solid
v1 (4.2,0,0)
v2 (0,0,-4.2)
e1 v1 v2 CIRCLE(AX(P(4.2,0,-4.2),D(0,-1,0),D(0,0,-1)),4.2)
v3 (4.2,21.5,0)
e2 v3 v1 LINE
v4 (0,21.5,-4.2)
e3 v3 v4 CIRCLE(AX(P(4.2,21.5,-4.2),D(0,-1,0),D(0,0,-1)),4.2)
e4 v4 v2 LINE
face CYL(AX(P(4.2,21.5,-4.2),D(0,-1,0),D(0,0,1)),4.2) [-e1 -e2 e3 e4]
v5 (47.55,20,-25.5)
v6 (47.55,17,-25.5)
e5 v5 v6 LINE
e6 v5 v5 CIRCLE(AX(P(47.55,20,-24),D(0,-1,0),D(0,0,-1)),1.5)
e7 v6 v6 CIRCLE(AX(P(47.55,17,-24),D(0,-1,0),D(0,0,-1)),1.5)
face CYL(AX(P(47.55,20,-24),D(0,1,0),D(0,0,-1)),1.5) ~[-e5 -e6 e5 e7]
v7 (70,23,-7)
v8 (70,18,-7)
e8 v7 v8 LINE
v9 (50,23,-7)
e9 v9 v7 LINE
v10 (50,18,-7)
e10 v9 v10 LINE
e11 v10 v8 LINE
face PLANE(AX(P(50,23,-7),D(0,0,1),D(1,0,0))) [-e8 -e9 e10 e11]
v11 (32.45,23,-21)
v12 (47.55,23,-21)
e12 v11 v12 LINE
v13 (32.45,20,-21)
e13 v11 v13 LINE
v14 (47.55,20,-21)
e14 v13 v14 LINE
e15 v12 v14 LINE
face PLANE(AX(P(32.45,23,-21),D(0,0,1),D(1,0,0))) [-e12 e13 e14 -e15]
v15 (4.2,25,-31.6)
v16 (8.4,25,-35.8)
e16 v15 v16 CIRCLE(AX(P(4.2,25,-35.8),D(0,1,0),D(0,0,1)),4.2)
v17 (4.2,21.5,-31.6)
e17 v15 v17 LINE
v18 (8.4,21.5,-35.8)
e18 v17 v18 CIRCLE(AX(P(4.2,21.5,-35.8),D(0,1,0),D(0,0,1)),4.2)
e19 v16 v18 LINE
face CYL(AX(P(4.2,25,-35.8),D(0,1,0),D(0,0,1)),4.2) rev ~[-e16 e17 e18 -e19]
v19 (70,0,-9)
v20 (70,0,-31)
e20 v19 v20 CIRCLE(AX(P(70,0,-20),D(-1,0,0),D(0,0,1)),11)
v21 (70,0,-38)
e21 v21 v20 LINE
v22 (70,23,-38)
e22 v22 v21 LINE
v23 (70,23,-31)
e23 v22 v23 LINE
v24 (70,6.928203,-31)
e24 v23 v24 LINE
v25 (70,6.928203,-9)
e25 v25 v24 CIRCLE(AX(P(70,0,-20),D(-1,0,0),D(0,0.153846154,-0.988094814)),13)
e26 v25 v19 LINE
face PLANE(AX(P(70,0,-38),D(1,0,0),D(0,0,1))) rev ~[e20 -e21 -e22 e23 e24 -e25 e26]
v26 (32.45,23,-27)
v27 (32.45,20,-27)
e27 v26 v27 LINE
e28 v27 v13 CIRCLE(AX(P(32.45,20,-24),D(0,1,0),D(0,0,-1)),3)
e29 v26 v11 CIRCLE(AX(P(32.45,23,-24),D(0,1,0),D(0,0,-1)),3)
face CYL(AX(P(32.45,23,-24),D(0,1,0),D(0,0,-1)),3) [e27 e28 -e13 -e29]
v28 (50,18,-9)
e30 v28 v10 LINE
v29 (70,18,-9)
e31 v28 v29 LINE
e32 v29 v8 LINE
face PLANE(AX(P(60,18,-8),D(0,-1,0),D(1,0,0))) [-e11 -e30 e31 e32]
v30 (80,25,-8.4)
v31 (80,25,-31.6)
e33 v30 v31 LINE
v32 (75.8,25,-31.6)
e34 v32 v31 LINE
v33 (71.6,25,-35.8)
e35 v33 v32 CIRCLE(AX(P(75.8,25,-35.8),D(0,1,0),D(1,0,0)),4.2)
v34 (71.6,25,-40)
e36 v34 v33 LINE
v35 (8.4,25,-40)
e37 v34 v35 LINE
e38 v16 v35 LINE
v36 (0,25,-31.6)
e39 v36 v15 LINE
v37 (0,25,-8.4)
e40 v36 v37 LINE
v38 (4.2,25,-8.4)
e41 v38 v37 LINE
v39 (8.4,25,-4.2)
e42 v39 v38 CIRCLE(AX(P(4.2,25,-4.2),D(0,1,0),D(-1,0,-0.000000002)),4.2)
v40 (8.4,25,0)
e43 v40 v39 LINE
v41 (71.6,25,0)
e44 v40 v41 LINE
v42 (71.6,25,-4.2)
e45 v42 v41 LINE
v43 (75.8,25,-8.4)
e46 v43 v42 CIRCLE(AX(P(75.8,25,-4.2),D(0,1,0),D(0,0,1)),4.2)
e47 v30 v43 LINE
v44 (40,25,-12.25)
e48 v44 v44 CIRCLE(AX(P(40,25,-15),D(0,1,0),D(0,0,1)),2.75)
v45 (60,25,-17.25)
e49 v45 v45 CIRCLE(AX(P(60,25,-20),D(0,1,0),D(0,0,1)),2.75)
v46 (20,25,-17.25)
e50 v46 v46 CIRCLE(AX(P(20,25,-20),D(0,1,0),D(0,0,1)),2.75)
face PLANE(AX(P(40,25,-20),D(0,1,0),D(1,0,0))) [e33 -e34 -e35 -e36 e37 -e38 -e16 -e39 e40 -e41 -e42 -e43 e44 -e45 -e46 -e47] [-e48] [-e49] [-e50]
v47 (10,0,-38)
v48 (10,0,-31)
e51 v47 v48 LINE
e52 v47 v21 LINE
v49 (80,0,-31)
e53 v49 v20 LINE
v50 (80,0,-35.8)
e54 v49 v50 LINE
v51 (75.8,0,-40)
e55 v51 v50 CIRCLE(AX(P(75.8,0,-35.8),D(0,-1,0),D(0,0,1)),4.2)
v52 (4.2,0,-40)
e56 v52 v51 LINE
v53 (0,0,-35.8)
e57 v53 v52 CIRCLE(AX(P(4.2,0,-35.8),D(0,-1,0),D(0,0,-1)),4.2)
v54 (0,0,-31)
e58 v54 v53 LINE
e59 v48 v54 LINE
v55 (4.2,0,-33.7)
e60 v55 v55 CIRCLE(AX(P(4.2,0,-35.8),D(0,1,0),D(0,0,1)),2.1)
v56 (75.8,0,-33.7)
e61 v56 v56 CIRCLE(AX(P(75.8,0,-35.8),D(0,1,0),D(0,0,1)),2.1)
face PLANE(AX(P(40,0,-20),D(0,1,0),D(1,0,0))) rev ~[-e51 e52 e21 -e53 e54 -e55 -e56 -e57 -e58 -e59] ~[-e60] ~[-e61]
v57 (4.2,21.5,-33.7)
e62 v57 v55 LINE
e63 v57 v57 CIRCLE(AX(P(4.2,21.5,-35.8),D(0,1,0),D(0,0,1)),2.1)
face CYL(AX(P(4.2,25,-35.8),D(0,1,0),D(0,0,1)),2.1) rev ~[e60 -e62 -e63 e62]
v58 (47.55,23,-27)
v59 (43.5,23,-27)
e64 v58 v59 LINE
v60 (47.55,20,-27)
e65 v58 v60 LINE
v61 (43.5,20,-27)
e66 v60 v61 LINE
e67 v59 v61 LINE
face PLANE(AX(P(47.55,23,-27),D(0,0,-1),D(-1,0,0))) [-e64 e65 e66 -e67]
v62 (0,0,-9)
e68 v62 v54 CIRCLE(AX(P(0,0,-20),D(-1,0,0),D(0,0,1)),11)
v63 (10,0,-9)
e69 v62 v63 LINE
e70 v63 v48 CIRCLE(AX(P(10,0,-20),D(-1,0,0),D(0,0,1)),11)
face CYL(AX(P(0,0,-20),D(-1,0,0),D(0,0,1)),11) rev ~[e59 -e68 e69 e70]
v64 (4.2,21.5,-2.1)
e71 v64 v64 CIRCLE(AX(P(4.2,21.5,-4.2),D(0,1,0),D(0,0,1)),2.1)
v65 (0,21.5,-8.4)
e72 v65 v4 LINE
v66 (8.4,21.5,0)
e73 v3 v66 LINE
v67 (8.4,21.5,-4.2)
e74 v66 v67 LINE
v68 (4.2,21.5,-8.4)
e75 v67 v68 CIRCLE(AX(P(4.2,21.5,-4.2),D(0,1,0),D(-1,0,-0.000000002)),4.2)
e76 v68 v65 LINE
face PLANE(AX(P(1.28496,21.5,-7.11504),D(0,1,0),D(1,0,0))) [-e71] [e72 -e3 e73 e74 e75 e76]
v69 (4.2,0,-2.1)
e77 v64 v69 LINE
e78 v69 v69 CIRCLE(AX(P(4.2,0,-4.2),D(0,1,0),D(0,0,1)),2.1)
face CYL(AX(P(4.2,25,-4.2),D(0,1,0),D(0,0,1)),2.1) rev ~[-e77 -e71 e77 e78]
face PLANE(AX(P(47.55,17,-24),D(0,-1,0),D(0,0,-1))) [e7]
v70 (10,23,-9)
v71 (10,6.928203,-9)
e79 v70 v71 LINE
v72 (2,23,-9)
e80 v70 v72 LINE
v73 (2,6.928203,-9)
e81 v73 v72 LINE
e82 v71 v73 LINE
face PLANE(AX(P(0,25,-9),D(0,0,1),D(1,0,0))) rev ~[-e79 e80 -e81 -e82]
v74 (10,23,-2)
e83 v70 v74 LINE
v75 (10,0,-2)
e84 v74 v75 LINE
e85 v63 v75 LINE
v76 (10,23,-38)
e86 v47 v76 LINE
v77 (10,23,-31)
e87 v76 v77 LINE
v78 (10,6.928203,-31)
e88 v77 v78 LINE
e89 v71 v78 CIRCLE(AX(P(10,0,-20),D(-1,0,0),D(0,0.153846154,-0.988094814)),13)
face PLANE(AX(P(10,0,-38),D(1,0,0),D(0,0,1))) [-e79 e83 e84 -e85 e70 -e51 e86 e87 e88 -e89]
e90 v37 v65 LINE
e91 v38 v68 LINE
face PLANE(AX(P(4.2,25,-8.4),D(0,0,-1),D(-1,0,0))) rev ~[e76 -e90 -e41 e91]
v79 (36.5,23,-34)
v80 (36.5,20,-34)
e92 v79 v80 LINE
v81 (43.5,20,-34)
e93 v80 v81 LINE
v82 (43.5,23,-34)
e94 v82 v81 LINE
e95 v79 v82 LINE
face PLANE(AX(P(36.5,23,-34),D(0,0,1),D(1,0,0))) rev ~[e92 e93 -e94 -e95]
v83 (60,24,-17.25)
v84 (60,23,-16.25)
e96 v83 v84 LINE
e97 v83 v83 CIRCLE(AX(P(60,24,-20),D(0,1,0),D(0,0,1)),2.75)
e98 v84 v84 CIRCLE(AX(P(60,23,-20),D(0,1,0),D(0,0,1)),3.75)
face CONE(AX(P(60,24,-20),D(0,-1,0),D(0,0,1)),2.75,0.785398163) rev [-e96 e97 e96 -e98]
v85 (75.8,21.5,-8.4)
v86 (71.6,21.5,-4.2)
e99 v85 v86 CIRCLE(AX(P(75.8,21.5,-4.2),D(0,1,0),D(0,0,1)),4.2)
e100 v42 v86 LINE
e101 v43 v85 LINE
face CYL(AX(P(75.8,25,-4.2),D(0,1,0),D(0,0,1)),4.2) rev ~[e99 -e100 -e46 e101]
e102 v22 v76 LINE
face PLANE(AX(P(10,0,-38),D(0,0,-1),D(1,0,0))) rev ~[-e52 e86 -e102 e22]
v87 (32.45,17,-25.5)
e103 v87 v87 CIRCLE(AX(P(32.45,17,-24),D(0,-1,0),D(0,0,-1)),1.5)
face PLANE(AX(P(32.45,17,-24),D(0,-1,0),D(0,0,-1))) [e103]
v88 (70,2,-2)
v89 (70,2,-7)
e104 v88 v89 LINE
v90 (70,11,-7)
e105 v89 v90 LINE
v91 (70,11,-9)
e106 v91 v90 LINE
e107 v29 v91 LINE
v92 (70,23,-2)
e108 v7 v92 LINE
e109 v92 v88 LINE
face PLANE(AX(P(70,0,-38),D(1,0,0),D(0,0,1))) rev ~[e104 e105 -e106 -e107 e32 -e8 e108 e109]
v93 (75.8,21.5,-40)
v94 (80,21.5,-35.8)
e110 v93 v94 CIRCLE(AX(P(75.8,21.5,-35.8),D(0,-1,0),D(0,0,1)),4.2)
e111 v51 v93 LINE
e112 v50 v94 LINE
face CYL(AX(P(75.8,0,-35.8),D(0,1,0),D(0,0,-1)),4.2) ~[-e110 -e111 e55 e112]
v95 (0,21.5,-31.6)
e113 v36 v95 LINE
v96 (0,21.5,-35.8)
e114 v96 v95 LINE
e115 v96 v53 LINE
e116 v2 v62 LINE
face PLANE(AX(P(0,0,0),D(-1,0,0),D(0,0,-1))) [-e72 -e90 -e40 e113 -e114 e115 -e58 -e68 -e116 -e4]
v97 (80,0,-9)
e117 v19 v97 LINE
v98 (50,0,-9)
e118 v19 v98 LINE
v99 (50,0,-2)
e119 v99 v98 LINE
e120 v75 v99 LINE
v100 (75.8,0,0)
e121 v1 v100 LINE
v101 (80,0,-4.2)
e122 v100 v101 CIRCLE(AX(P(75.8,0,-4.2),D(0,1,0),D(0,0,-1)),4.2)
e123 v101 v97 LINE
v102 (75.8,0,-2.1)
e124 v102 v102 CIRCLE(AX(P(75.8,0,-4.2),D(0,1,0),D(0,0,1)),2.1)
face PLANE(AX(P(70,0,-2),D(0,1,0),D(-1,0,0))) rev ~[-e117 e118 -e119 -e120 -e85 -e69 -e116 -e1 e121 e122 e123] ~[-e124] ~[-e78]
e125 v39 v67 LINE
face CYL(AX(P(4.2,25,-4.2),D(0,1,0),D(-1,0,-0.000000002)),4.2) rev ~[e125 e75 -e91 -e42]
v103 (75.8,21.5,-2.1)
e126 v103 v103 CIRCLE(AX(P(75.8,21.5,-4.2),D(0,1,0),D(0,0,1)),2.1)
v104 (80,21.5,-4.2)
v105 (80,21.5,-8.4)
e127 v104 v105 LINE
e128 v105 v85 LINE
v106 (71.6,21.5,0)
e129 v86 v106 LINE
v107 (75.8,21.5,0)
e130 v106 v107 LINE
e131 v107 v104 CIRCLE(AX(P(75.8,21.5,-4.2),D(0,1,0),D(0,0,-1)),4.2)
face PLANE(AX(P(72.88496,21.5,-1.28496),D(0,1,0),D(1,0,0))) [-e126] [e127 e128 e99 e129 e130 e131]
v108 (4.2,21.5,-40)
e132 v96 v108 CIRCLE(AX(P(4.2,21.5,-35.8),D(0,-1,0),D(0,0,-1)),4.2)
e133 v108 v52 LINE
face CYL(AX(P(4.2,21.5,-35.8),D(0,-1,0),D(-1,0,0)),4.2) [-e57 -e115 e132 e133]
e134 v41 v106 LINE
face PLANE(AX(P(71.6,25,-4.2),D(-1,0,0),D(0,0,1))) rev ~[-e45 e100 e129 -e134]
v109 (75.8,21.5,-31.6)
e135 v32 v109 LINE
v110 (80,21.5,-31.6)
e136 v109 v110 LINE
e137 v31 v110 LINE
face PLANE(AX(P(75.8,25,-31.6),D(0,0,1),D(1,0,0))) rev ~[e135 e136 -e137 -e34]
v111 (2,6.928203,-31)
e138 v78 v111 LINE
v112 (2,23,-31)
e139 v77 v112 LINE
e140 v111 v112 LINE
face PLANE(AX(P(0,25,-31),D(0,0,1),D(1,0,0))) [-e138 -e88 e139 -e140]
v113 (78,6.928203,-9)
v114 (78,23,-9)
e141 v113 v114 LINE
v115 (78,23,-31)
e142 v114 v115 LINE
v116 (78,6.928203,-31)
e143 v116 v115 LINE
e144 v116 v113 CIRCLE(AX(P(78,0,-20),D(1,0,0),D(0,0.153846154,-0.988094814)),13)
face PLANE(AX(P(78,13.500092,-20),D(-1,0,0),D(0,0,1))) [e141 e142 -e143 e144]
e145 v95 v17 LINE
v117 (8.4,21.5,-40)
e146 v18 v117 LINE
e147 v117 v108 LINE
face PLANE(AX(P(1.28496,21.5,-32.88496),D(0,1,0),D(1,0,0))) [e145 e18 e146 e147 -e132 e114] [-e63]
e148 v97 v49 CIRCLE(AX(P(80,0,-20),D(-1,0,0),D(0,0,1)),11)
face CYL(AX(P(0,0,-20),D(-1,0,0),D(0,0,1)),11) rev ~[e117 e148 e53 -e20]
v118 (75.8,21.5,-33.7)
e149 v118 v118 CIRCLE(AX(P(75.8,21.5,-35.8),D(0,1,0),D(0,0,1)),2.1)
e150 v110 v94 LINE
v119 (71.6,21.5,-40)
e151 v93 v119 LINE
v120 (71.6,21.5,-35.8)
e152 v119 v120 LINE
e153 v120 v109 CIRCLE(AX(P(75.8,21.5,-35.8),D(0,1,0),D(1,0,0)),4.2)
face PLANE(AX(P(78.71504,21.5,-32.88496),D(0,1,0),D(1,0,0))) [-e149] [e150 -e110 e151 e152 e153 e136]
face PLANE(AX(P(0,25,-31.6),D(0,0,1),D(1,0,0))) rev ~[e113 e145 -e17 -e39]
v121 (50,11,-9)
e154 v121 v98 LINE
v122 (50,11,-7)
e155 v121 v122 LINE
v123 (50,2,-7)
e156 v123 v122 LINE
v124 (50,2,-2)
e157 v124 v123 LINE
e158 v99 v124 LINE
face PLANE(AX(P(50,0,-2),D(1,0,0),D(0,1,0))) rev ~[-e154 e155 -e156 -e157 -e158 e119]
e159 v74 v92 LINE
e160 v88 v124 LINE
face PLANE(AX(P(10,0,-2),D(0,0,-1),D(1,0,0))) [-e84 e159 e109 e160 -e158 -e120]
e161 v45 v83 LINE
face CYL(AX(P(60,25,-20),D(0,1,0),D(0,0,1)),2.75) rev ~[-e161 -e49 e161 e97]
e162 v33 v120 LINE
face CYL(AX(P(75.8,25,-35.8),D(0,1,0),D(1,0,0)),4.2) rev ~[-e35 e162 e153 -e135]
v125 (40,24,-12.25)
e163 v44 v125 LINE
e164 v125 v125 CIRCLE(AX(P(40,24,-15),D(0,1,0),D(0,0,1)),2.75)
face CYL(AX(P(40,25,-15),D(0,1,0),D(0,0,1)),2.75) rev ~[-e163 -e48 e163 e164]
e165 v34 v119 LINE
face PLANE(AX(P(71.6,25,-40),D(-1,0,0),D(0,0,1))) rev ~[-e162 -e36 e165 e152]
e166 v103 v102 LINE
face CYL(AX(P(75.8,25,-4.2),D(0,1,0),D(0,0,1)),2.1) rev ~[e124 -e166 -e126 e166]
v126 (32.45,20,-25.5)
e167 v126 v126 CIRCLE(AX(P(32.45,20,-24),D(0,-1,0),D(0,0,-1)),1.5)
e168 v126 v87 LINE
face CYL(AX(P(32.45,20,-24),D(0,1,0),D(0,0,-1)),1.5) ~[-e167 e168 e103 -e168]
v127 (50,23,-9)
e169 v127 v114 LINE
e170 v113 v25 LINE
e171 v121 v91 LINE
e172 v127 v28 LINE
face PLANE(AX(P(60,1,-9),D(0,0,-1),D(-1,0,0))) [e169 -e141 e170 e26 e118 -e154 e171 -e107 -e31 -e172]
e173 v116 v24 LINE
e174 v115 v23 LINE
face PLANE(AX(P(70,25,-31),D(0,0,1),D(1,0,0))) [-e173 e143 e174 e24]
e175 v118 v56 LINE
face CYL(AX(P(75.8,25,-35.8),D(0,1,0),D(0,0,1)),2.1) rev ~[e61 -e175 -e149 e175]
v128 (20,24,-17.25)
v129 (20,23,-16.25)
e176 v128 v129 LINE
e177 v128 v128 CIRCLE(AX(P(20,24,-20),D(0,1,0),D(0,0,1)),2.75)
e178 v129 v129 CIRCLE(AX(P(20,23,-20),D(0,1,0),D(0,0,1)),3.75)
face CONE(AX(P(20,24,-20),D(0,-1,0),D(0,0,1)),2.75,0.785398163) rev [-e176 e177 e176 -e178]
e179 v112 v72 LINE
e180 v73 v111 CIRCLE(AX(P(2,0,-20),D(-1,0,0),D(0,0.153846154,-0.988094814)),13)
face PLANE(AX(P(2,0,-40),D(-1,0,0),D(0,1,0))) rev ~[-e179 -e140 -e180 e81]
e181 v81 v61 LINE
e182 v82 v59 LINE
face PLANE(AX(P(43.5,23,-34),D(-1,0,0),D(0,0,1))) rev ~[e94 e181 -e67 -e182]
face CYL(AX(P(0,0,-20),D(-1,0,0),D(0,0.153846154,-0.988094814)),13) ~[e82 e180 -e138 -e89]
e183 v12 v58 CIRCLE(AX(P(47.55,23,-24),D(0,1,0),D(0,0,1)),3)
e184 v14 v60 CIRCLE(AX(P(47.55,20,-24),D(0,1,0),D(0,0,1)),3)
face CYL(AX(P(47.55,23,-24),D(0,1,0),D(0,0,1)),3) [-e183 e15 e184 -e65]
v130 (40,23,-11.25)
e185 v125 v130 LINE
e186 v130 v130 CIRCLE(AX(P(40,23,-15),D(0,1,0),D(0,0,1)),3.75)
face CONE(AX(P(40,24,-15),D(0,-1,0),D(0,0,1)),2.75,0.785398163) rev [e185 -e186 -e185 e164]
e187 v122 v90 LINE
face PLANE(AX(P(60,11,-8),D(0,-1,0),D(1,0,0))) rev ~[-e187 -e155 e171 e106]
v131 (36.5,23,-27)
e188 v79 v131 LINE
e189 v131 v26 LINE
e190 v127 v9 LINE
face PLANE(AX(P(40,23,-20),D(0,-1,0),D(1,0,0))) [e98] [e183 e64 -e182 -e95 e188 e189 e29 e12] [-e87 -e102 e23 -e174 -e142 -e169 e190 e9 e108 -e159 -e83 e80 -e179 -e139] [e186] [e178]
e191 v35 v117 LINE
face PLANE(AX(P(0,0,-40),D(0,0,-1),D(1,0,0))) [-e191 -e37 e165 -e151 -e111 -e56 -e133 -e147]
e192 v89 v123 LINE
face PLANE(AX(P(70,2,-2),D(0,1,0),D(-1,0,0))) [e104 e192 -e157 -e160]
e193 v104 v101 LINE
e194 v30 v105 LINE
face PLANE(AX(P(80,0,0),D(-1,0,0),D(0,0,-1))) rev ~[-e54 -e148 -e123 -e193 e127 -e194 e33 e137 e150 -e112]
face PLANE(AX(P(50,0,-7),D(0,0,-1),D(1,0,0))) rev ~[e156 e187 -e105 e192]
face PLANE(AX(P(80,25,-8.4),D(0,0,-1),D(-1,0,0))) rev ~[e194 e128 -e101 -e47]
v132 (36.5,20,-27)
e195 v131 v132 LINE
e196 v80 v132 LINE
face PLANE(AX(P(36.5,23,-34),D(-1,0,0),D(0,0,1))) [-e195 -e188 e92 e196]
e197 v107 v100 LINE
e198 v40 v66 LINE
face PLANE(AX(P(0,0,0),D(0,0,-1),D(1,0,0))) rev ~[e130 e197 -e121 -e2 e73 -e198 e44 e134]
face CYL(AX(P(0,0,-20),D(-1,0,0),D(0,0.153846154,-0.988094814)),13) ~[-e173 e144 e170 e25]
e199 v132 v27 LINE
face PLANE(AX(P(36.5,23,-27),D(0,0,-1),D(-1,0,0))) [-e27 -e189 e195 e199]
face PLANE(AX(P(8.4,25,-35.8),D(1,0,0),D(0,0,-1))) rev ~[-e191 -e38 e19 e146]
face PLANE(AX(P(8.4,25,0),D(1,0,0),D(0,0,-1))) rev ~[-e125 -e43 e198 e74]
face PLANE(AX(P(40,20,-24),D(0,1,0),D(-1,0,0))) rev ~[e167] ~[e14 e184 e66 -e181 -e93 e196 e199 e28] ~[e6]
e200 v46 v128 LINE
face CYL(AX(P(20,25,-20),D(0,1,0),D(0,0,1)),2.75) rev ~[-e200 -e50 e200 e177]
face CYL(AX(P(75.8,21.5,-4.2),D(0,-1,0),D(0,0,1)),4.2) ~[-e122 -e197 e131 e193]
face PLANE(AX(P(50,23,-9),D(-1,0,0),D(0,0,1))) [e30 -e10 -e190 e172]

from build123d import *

# Parameters (mm, degrees)
ESQUISSE1_W              = 80
ESQUISSE1_H              = 40
BOSS_EXTRU_1_DEPTH       = 25
ENL_V_MAT_EXTRU_4_DEPTH  = 78
ESQUISSE6_W              = 2
ESQUISSE6_H              = 25
BOSS_EXTRU_3_DEPTH       = 40
ESQUISSE7_R              = 11
ENL_V_MAT_EXTRU_5_DEPTH  = 93.870878105
ESQUISSE8_W              = 60
ESQUISSE8_H              = 36
ENL_V_MAT_EXTRU_6_DEPTH  = 23
ESQUISSE9_W              = 10
ESQUISSE9_H              = 9
BOSS_EXTRU_4_DEPTH       = 23
ESQUISSE10_R             = 2.1
ENL_V_MAT_EXTRU_8_DEPTH  = 93.870878105
ESQUISSE11_R             = 2.75
ENL_V_MAT_EXTRU_9_DEPTH  = 93.870878105
CHANFREIN1_SIZE          = 1
ESQUISSE12_R             = 4.2
ESQUISSE12_R_2           = 2.1
ENL_V_MAT_EXTRU_10_DEPTH = 3.5
CONG_1_R                 = 4.2
ESQUISSE13_W             = 7
ESQUISSE13_H             = 7
BOSS_EXTRU_5_DEPTH       = 3
ESQUISSE14_W             = 20
ESQUISSE14_H             = 2
BOSS_EXTRU_16_DEPTH      = 5
ESQUISSE15_W             = 20
ESQUISSE15_H             = 2
BOSS_EXTRU_17_DEPTH      = 7
ESQUISSE17_W             = 20
ESQUISSE17_H             = 2
BOSS_EXTRU_18_DEPTH      = 11
ESQUISSE18_R             = 1.5
BOSS_EXTRU_19_DEPTH      = 3


with BuildPart() as part:
    # Esquisse1 → Boss.-Extru.1 (new body)
    with BuildSketch(Plane(origin=(0, 0, 0), x_dir=(1, 0, 0), z_dir=(0, 1, 0))):
        with Locations((40, 20)):
            Rectangle(ESQUISSE1_W, ESQUISSE1_H)
    extrude(amount=BOSS_EXTRU_1_DEPTH)

    # Esquisse5 → Enlèv. mat.-Extru.4 (cut)
    with BuildSketch(Plane.ZY):
        with BuildLine():
            Line((-2, 23), (-38, 23))
            Line((-38, 23), (-38, 2))
            Line((-38, 2), (-32.845232579, 2))
            ThreePointArc((-32.845232579, 2), (-20, 13), (-7.154767421, 2))
            Line((-7.154767421, 2), (-2, 2))
            Line((-2, 2), (-2, 23))
        make_face()
    extrude(amount=-ENL_V_MAT_EXTRU_4_DEPTH, mode=Mode.SUBTRACT)

    # Esquisse6 → Boss.-Extru.3 (add)
    with BuildSketch(Plane(origin=(0, 0, -40), x_dir=(-1, 0, 0), z_dir=(0, 0, -1))):
        with Locations((-1, 12.5)):
            Rectangle(ESQUISSE6_W, ESQUISSE6_H)
    extrude(amount=-BOSS_EXTRU_3_DEPTH)

    # Esquisse7 → Enlèv. mat.-Extru.5 (cut, through all)
    with BuildSketch(Plane.ZY):
        with Locations((-20, 0)):
            Circle(ESQUISSE7_R)
    extrude(amount=-ENL_V_MAT_EXTRU_5_DEPTH, mode=Mode.SUBTRACT)

    # Esquisse8 → Enlèv. mat.-Extru.6 (cut)
    with BuildSketch(Plane.XZ):
        with Locations((40, -20)):
            Rectangle(ESQUISSE8_W, ESQUISSE8_H)
    extrude(amount=-ENL_V_MAT_EXTRU_6_DEPTH, mode=Mode.SUBTRACT)

    # Esquisse9 → Boss.-Extru.4 (add)
    with BuildSketch(Plane(origin=(0, 25, 0), x_dir=(1, 0, 0), z_dir=(0, 1, 0))):
        with Locations((75, 4.5)):
            Rectangle(ESQUISSE9_W, ESQUISSE9_H)
        with Locations((5, 4.5)):
            Rectangle(ESQUISSE9_W, ESQUISSE9_H)
        with Locations((5, 35.5)):
            Rectangle(ESQUISSE9_W, ESQUISSE9_H)
        with Locations((75, 35.5)):
            Rectangle(ESQUISSE9_W, ESQUISSE9_H)
    extrude(amount=-BOSS_EXTRU_4_DEPTH)

    # Esquisse10 → Enlèv. mat.-Extru.8 (cut, through all)
    with BuildSketch(Plane(origin=(0, 25, 0), x_dir=(1, 0, 0), z_dir=(0, 1, 0))):
        with Locations(Location((75.8, 35.8, 0), (0, 0, 270))):
            Circle(ESQUISSE10_R)
        with Locations(Location((75.8, 4.2, 0), (0, 0, 270))):
            Circle(ESQUISSE10_R)
        with Locations(Location((4.2, 4.2, 0), (0, 0, 270))):
            Circle(ESQUISSE10_R)
        with Locations(Location((4.2, 35.8, 0), (0, 0, 270))):
            Circle(ESQUISSE10_R)
    extrude(amount=-ENL_V_MAT_EXTRU_8_DEPTH, mode=Mode.SUBTRACT)

    # Esquisse11 → Enlèv. mat.-Extru.9 (cut, through all)
    with BuildSketch(Plane(origin=(0, 25, 0), x_dir=(1, 0, 0), z_dir=(0, 1, 0))):
        with Locations(Location((60, 20, 0), (0, 0, 270))):
            Circle(ESQUISSE11_R)
        with Locations(Location((40, 15, 0), (0, 0, 270))):
            Circle(ESQUISSE11_R)
        with Locations(Location((20, 20, 0), (0, 0, 270))):
            Circle(ESQUISSE11_R)
    extrude(amount=-ENL_V_MAT_EXTRU_9_DEPTH, mode=Mode.SUBTRACT)

    # Chanfrein1
    chanfrein1_edges = [part.edges().sort_by_distance(p)[0] for p in [
        (60, 23, -22.75),
        (40, 23, -17.75),
        (20, 23, -22.75),
    ]]
    chamfer(chanfrein1_edges, length=CHANFREIN1_SIZE)

    # Esquisse12 → Enlèv. mat.-Extru.10 (cut)
    with BuildSketch(Plane(origin=(0, 25, 0), x_dir=(1, 0, 0), z_dir=(0, 1, 0))):
        with BuildLine():
            Line((71.6, 4.2), (71.6, 0))
            Line((71.6, 0), (75.8, 0))
            ThreePointArc((75.8, 0), (72.830151519, 1.230151519), (71.6, 4.2))
        make_face()
        with Locations((75.8, 4.2)):
            Circle(ESQUISSE12_R)
        with Locations(Location((75.8, 4.2, 0), (0, 0, 270))):
            Circle(ESQUISSE12_R_2, mode=Mode.SUBTRACT)
        with BuildLine():
            ThreePointArc((80, 4.2), (78.769848481, 1.230151519), (75.8, 0))
            Line((75.8, 0), (80, 0))
            Line((80, 0), (80, 4.2))
        make_face()
        with BuildLine():
            Line((80, 8.4), (75.8, 8.4))
            ThreePointArc((75.8, 8.4), (78.769848481, 7.169848481), (80, 4.2))
            Line((80, 4.2), (80, 8.4))
        make_face()
        with BuildLine():
            Line((75.8, 31.6), (80, 31.6))
            Line((80, 31.6), (80, 35.8))
            ThreePointArc((80, 35.8), (78.769848481, 32.830151519), (75.8, 31.6))
        make_face()
        with Locations((75.8, 35.8)):
            Circle(ESQUISSE12_R)
        with Locations(Location((75.8, 35.8, 0), (0, 0, 270))):
            Circle(ESQUISSE12_R_2, mode=Mode.SUBTRACT)
        with BuildLine():
            ThreePointArc((75.8, 40), (78.769848481, 38.769848481), (80, 35.8))
            Line((80, 35.8), (80, 40))
            Line((80, 40), (75.8, 40))
        make_face()
        with BuildLine():
            Line((71.6, 40), (71.6, 35.8))
            ThreePointArc((71.6, 35.8), (72.830151519, 38.769848481), (75.8, 40))
            Line((75.8, 40), (71.6, 40))
        make_face()
        with BuildLine():
            Line((0, 35.8), (0, 31.6))
            Line((0, 31.6), (4.2, 31.6))
            ThreePointArc((4.2, 31.6), (1.230151519, 32.830151519), (0, 35.8))
        make_face()
        with Locations((4.2, 35.8)):
            Circle(ESQUISSE12_R)
        with Locations(Location((4.2, 35.8, 0), (0, 0, 270))):
            Circle(ESQUISSE12_R_2, mode=Mode.SUBTRACT)
        with BuildLine():
            Line((0, 40), (0, 35.8))
            ThreePointArc((0, 35.8), (1.230151526, 38.769848488), (4.200000019, 40))
            Line((4.200000019, 40), (0, 40))
        make_face()
        with BuildLine():
            ThreePointArc((4.200000019, 40), (7.169848488, 38.769848474), (8.4, 35.8))
            Line((8.4, 35.8), (8.4, 40))
            Line((8.4, 40), (4.200000019, 40))
        make_face()
        with BuildLine():
            ThreePointArc((0, 4.200000008), (1.230151522, 7.169848484), (4.2, 8.4))
            Line((4.2, 8.4), (0, 8.4))
            Line((0, 8.4), (0, 4.200000008))
        make_face()
        with Locations((4.2, 4.2)):
            Circle(ESQUISSE12_R)
        with Locations(Location((4.2, 4.2, 0), (0, 0, 270))):
            Circle(ESQUISSE12_R_2, mode=Mode.SUBTRACT)
        with BuildLine():
            Line((0, 0), (4.2, 0))
            ThreePointArc((4.2, 0), (1.230151516, 1.230151522), (0, 4.200000008))
            Line((0, 4.200000008), (0, 0))
        make_face()
        with BuildLine():
            Line((4.2, 0), (8.4, 0))
            Line((8.4, 0), (8.4, 4.2))
            ThreePointArc((8.4, 4.2), (7.169848481, 1.230151519), (4.2, 0))
        make_face()
    extrude(amount=-ENL_V_MAT_EXTRU_10_DEPTH, mode=Mode.SUBTRACT)

    # Congé1
    cong_1_edges = [part.edges().sort_by_distance(p)[0] for p in [
        (80, 10.75, 0),
        (80, 10.75, -40),
        (0, 10.75, -40),
        (0, 10.75, 0),
    ]]
    fillet(cong_1_edges, radius=CONG_1_R)

    # Esquisse13 → Boss.-Extru.5 (add)
    with BuildSketch(Plane.XZ.offset(-23)):
        with BuildLine():
            Line((32.45, -21), (47.55, -21))
            ThreePointArc((47.55, -21), (50.55, -24), (47.55, -27))
            Line((47.55, -27), (32.45, -27))
            ThreePointArc((32.45, -27), (29.45, -24), (32.45, -21))
        make_face()
        with Locations((40, -30.5)):
            Rectangle(ESQUISSE13_W, ESQUISSE13_H)
    extrude(amount=BOSS_EXTRU_5_DEPTH)

    # Esquisse14 → Boss.-Extru.16 (add)
    with BuildSketch(Plane.XZ.offset(-23)):
        with Locations((60, -8)):
            Rectangle(ESQUISSE14_W, ESQUISSE14_H)
    extrude(amount=BOSS_EXTRU_16_DEPTH)

    # Esquisse15 → Boss.-Extru.17 (add)
    with BuildSketch(Plane(origin=(0, 0, -2), x_dir=(-1, 0, 0), z_dir=(0, 0, -1))):
        with Locations((-60, 1)):
            Rectangle(ESQUISSE15_W, ESQUISSE15_H)
    extrude(amount=BOSS_EXTRU_17_DEPTH)

    # Esquisse17 → Boss.-Extru.18 (add)
    with BuildSketch(Plane.XZ):
        with Locations((60, -8)):
            Rectangle(ESQUISSE17_W, ESQUISSE17_H)
    extrude(amount=-BOSS_EXTRU_18_DEPTH)

    # Esquisse18 → Boss.-Extru.19 (add)
    with BuildSketch(Plane.XZ.offset(-20)):
        with Locations(Location((32.45, -24, 0), (0, 0, 270))):
            Circle(ESQUISSE18_R)
        with Locations(Location((47.55, -24, 0), (0, 0, 270))):
            Circle(ESQUISSE18_R)
    extrude(amount=BOSS_EXTRU_19_DEPTH)


solid = part.part
